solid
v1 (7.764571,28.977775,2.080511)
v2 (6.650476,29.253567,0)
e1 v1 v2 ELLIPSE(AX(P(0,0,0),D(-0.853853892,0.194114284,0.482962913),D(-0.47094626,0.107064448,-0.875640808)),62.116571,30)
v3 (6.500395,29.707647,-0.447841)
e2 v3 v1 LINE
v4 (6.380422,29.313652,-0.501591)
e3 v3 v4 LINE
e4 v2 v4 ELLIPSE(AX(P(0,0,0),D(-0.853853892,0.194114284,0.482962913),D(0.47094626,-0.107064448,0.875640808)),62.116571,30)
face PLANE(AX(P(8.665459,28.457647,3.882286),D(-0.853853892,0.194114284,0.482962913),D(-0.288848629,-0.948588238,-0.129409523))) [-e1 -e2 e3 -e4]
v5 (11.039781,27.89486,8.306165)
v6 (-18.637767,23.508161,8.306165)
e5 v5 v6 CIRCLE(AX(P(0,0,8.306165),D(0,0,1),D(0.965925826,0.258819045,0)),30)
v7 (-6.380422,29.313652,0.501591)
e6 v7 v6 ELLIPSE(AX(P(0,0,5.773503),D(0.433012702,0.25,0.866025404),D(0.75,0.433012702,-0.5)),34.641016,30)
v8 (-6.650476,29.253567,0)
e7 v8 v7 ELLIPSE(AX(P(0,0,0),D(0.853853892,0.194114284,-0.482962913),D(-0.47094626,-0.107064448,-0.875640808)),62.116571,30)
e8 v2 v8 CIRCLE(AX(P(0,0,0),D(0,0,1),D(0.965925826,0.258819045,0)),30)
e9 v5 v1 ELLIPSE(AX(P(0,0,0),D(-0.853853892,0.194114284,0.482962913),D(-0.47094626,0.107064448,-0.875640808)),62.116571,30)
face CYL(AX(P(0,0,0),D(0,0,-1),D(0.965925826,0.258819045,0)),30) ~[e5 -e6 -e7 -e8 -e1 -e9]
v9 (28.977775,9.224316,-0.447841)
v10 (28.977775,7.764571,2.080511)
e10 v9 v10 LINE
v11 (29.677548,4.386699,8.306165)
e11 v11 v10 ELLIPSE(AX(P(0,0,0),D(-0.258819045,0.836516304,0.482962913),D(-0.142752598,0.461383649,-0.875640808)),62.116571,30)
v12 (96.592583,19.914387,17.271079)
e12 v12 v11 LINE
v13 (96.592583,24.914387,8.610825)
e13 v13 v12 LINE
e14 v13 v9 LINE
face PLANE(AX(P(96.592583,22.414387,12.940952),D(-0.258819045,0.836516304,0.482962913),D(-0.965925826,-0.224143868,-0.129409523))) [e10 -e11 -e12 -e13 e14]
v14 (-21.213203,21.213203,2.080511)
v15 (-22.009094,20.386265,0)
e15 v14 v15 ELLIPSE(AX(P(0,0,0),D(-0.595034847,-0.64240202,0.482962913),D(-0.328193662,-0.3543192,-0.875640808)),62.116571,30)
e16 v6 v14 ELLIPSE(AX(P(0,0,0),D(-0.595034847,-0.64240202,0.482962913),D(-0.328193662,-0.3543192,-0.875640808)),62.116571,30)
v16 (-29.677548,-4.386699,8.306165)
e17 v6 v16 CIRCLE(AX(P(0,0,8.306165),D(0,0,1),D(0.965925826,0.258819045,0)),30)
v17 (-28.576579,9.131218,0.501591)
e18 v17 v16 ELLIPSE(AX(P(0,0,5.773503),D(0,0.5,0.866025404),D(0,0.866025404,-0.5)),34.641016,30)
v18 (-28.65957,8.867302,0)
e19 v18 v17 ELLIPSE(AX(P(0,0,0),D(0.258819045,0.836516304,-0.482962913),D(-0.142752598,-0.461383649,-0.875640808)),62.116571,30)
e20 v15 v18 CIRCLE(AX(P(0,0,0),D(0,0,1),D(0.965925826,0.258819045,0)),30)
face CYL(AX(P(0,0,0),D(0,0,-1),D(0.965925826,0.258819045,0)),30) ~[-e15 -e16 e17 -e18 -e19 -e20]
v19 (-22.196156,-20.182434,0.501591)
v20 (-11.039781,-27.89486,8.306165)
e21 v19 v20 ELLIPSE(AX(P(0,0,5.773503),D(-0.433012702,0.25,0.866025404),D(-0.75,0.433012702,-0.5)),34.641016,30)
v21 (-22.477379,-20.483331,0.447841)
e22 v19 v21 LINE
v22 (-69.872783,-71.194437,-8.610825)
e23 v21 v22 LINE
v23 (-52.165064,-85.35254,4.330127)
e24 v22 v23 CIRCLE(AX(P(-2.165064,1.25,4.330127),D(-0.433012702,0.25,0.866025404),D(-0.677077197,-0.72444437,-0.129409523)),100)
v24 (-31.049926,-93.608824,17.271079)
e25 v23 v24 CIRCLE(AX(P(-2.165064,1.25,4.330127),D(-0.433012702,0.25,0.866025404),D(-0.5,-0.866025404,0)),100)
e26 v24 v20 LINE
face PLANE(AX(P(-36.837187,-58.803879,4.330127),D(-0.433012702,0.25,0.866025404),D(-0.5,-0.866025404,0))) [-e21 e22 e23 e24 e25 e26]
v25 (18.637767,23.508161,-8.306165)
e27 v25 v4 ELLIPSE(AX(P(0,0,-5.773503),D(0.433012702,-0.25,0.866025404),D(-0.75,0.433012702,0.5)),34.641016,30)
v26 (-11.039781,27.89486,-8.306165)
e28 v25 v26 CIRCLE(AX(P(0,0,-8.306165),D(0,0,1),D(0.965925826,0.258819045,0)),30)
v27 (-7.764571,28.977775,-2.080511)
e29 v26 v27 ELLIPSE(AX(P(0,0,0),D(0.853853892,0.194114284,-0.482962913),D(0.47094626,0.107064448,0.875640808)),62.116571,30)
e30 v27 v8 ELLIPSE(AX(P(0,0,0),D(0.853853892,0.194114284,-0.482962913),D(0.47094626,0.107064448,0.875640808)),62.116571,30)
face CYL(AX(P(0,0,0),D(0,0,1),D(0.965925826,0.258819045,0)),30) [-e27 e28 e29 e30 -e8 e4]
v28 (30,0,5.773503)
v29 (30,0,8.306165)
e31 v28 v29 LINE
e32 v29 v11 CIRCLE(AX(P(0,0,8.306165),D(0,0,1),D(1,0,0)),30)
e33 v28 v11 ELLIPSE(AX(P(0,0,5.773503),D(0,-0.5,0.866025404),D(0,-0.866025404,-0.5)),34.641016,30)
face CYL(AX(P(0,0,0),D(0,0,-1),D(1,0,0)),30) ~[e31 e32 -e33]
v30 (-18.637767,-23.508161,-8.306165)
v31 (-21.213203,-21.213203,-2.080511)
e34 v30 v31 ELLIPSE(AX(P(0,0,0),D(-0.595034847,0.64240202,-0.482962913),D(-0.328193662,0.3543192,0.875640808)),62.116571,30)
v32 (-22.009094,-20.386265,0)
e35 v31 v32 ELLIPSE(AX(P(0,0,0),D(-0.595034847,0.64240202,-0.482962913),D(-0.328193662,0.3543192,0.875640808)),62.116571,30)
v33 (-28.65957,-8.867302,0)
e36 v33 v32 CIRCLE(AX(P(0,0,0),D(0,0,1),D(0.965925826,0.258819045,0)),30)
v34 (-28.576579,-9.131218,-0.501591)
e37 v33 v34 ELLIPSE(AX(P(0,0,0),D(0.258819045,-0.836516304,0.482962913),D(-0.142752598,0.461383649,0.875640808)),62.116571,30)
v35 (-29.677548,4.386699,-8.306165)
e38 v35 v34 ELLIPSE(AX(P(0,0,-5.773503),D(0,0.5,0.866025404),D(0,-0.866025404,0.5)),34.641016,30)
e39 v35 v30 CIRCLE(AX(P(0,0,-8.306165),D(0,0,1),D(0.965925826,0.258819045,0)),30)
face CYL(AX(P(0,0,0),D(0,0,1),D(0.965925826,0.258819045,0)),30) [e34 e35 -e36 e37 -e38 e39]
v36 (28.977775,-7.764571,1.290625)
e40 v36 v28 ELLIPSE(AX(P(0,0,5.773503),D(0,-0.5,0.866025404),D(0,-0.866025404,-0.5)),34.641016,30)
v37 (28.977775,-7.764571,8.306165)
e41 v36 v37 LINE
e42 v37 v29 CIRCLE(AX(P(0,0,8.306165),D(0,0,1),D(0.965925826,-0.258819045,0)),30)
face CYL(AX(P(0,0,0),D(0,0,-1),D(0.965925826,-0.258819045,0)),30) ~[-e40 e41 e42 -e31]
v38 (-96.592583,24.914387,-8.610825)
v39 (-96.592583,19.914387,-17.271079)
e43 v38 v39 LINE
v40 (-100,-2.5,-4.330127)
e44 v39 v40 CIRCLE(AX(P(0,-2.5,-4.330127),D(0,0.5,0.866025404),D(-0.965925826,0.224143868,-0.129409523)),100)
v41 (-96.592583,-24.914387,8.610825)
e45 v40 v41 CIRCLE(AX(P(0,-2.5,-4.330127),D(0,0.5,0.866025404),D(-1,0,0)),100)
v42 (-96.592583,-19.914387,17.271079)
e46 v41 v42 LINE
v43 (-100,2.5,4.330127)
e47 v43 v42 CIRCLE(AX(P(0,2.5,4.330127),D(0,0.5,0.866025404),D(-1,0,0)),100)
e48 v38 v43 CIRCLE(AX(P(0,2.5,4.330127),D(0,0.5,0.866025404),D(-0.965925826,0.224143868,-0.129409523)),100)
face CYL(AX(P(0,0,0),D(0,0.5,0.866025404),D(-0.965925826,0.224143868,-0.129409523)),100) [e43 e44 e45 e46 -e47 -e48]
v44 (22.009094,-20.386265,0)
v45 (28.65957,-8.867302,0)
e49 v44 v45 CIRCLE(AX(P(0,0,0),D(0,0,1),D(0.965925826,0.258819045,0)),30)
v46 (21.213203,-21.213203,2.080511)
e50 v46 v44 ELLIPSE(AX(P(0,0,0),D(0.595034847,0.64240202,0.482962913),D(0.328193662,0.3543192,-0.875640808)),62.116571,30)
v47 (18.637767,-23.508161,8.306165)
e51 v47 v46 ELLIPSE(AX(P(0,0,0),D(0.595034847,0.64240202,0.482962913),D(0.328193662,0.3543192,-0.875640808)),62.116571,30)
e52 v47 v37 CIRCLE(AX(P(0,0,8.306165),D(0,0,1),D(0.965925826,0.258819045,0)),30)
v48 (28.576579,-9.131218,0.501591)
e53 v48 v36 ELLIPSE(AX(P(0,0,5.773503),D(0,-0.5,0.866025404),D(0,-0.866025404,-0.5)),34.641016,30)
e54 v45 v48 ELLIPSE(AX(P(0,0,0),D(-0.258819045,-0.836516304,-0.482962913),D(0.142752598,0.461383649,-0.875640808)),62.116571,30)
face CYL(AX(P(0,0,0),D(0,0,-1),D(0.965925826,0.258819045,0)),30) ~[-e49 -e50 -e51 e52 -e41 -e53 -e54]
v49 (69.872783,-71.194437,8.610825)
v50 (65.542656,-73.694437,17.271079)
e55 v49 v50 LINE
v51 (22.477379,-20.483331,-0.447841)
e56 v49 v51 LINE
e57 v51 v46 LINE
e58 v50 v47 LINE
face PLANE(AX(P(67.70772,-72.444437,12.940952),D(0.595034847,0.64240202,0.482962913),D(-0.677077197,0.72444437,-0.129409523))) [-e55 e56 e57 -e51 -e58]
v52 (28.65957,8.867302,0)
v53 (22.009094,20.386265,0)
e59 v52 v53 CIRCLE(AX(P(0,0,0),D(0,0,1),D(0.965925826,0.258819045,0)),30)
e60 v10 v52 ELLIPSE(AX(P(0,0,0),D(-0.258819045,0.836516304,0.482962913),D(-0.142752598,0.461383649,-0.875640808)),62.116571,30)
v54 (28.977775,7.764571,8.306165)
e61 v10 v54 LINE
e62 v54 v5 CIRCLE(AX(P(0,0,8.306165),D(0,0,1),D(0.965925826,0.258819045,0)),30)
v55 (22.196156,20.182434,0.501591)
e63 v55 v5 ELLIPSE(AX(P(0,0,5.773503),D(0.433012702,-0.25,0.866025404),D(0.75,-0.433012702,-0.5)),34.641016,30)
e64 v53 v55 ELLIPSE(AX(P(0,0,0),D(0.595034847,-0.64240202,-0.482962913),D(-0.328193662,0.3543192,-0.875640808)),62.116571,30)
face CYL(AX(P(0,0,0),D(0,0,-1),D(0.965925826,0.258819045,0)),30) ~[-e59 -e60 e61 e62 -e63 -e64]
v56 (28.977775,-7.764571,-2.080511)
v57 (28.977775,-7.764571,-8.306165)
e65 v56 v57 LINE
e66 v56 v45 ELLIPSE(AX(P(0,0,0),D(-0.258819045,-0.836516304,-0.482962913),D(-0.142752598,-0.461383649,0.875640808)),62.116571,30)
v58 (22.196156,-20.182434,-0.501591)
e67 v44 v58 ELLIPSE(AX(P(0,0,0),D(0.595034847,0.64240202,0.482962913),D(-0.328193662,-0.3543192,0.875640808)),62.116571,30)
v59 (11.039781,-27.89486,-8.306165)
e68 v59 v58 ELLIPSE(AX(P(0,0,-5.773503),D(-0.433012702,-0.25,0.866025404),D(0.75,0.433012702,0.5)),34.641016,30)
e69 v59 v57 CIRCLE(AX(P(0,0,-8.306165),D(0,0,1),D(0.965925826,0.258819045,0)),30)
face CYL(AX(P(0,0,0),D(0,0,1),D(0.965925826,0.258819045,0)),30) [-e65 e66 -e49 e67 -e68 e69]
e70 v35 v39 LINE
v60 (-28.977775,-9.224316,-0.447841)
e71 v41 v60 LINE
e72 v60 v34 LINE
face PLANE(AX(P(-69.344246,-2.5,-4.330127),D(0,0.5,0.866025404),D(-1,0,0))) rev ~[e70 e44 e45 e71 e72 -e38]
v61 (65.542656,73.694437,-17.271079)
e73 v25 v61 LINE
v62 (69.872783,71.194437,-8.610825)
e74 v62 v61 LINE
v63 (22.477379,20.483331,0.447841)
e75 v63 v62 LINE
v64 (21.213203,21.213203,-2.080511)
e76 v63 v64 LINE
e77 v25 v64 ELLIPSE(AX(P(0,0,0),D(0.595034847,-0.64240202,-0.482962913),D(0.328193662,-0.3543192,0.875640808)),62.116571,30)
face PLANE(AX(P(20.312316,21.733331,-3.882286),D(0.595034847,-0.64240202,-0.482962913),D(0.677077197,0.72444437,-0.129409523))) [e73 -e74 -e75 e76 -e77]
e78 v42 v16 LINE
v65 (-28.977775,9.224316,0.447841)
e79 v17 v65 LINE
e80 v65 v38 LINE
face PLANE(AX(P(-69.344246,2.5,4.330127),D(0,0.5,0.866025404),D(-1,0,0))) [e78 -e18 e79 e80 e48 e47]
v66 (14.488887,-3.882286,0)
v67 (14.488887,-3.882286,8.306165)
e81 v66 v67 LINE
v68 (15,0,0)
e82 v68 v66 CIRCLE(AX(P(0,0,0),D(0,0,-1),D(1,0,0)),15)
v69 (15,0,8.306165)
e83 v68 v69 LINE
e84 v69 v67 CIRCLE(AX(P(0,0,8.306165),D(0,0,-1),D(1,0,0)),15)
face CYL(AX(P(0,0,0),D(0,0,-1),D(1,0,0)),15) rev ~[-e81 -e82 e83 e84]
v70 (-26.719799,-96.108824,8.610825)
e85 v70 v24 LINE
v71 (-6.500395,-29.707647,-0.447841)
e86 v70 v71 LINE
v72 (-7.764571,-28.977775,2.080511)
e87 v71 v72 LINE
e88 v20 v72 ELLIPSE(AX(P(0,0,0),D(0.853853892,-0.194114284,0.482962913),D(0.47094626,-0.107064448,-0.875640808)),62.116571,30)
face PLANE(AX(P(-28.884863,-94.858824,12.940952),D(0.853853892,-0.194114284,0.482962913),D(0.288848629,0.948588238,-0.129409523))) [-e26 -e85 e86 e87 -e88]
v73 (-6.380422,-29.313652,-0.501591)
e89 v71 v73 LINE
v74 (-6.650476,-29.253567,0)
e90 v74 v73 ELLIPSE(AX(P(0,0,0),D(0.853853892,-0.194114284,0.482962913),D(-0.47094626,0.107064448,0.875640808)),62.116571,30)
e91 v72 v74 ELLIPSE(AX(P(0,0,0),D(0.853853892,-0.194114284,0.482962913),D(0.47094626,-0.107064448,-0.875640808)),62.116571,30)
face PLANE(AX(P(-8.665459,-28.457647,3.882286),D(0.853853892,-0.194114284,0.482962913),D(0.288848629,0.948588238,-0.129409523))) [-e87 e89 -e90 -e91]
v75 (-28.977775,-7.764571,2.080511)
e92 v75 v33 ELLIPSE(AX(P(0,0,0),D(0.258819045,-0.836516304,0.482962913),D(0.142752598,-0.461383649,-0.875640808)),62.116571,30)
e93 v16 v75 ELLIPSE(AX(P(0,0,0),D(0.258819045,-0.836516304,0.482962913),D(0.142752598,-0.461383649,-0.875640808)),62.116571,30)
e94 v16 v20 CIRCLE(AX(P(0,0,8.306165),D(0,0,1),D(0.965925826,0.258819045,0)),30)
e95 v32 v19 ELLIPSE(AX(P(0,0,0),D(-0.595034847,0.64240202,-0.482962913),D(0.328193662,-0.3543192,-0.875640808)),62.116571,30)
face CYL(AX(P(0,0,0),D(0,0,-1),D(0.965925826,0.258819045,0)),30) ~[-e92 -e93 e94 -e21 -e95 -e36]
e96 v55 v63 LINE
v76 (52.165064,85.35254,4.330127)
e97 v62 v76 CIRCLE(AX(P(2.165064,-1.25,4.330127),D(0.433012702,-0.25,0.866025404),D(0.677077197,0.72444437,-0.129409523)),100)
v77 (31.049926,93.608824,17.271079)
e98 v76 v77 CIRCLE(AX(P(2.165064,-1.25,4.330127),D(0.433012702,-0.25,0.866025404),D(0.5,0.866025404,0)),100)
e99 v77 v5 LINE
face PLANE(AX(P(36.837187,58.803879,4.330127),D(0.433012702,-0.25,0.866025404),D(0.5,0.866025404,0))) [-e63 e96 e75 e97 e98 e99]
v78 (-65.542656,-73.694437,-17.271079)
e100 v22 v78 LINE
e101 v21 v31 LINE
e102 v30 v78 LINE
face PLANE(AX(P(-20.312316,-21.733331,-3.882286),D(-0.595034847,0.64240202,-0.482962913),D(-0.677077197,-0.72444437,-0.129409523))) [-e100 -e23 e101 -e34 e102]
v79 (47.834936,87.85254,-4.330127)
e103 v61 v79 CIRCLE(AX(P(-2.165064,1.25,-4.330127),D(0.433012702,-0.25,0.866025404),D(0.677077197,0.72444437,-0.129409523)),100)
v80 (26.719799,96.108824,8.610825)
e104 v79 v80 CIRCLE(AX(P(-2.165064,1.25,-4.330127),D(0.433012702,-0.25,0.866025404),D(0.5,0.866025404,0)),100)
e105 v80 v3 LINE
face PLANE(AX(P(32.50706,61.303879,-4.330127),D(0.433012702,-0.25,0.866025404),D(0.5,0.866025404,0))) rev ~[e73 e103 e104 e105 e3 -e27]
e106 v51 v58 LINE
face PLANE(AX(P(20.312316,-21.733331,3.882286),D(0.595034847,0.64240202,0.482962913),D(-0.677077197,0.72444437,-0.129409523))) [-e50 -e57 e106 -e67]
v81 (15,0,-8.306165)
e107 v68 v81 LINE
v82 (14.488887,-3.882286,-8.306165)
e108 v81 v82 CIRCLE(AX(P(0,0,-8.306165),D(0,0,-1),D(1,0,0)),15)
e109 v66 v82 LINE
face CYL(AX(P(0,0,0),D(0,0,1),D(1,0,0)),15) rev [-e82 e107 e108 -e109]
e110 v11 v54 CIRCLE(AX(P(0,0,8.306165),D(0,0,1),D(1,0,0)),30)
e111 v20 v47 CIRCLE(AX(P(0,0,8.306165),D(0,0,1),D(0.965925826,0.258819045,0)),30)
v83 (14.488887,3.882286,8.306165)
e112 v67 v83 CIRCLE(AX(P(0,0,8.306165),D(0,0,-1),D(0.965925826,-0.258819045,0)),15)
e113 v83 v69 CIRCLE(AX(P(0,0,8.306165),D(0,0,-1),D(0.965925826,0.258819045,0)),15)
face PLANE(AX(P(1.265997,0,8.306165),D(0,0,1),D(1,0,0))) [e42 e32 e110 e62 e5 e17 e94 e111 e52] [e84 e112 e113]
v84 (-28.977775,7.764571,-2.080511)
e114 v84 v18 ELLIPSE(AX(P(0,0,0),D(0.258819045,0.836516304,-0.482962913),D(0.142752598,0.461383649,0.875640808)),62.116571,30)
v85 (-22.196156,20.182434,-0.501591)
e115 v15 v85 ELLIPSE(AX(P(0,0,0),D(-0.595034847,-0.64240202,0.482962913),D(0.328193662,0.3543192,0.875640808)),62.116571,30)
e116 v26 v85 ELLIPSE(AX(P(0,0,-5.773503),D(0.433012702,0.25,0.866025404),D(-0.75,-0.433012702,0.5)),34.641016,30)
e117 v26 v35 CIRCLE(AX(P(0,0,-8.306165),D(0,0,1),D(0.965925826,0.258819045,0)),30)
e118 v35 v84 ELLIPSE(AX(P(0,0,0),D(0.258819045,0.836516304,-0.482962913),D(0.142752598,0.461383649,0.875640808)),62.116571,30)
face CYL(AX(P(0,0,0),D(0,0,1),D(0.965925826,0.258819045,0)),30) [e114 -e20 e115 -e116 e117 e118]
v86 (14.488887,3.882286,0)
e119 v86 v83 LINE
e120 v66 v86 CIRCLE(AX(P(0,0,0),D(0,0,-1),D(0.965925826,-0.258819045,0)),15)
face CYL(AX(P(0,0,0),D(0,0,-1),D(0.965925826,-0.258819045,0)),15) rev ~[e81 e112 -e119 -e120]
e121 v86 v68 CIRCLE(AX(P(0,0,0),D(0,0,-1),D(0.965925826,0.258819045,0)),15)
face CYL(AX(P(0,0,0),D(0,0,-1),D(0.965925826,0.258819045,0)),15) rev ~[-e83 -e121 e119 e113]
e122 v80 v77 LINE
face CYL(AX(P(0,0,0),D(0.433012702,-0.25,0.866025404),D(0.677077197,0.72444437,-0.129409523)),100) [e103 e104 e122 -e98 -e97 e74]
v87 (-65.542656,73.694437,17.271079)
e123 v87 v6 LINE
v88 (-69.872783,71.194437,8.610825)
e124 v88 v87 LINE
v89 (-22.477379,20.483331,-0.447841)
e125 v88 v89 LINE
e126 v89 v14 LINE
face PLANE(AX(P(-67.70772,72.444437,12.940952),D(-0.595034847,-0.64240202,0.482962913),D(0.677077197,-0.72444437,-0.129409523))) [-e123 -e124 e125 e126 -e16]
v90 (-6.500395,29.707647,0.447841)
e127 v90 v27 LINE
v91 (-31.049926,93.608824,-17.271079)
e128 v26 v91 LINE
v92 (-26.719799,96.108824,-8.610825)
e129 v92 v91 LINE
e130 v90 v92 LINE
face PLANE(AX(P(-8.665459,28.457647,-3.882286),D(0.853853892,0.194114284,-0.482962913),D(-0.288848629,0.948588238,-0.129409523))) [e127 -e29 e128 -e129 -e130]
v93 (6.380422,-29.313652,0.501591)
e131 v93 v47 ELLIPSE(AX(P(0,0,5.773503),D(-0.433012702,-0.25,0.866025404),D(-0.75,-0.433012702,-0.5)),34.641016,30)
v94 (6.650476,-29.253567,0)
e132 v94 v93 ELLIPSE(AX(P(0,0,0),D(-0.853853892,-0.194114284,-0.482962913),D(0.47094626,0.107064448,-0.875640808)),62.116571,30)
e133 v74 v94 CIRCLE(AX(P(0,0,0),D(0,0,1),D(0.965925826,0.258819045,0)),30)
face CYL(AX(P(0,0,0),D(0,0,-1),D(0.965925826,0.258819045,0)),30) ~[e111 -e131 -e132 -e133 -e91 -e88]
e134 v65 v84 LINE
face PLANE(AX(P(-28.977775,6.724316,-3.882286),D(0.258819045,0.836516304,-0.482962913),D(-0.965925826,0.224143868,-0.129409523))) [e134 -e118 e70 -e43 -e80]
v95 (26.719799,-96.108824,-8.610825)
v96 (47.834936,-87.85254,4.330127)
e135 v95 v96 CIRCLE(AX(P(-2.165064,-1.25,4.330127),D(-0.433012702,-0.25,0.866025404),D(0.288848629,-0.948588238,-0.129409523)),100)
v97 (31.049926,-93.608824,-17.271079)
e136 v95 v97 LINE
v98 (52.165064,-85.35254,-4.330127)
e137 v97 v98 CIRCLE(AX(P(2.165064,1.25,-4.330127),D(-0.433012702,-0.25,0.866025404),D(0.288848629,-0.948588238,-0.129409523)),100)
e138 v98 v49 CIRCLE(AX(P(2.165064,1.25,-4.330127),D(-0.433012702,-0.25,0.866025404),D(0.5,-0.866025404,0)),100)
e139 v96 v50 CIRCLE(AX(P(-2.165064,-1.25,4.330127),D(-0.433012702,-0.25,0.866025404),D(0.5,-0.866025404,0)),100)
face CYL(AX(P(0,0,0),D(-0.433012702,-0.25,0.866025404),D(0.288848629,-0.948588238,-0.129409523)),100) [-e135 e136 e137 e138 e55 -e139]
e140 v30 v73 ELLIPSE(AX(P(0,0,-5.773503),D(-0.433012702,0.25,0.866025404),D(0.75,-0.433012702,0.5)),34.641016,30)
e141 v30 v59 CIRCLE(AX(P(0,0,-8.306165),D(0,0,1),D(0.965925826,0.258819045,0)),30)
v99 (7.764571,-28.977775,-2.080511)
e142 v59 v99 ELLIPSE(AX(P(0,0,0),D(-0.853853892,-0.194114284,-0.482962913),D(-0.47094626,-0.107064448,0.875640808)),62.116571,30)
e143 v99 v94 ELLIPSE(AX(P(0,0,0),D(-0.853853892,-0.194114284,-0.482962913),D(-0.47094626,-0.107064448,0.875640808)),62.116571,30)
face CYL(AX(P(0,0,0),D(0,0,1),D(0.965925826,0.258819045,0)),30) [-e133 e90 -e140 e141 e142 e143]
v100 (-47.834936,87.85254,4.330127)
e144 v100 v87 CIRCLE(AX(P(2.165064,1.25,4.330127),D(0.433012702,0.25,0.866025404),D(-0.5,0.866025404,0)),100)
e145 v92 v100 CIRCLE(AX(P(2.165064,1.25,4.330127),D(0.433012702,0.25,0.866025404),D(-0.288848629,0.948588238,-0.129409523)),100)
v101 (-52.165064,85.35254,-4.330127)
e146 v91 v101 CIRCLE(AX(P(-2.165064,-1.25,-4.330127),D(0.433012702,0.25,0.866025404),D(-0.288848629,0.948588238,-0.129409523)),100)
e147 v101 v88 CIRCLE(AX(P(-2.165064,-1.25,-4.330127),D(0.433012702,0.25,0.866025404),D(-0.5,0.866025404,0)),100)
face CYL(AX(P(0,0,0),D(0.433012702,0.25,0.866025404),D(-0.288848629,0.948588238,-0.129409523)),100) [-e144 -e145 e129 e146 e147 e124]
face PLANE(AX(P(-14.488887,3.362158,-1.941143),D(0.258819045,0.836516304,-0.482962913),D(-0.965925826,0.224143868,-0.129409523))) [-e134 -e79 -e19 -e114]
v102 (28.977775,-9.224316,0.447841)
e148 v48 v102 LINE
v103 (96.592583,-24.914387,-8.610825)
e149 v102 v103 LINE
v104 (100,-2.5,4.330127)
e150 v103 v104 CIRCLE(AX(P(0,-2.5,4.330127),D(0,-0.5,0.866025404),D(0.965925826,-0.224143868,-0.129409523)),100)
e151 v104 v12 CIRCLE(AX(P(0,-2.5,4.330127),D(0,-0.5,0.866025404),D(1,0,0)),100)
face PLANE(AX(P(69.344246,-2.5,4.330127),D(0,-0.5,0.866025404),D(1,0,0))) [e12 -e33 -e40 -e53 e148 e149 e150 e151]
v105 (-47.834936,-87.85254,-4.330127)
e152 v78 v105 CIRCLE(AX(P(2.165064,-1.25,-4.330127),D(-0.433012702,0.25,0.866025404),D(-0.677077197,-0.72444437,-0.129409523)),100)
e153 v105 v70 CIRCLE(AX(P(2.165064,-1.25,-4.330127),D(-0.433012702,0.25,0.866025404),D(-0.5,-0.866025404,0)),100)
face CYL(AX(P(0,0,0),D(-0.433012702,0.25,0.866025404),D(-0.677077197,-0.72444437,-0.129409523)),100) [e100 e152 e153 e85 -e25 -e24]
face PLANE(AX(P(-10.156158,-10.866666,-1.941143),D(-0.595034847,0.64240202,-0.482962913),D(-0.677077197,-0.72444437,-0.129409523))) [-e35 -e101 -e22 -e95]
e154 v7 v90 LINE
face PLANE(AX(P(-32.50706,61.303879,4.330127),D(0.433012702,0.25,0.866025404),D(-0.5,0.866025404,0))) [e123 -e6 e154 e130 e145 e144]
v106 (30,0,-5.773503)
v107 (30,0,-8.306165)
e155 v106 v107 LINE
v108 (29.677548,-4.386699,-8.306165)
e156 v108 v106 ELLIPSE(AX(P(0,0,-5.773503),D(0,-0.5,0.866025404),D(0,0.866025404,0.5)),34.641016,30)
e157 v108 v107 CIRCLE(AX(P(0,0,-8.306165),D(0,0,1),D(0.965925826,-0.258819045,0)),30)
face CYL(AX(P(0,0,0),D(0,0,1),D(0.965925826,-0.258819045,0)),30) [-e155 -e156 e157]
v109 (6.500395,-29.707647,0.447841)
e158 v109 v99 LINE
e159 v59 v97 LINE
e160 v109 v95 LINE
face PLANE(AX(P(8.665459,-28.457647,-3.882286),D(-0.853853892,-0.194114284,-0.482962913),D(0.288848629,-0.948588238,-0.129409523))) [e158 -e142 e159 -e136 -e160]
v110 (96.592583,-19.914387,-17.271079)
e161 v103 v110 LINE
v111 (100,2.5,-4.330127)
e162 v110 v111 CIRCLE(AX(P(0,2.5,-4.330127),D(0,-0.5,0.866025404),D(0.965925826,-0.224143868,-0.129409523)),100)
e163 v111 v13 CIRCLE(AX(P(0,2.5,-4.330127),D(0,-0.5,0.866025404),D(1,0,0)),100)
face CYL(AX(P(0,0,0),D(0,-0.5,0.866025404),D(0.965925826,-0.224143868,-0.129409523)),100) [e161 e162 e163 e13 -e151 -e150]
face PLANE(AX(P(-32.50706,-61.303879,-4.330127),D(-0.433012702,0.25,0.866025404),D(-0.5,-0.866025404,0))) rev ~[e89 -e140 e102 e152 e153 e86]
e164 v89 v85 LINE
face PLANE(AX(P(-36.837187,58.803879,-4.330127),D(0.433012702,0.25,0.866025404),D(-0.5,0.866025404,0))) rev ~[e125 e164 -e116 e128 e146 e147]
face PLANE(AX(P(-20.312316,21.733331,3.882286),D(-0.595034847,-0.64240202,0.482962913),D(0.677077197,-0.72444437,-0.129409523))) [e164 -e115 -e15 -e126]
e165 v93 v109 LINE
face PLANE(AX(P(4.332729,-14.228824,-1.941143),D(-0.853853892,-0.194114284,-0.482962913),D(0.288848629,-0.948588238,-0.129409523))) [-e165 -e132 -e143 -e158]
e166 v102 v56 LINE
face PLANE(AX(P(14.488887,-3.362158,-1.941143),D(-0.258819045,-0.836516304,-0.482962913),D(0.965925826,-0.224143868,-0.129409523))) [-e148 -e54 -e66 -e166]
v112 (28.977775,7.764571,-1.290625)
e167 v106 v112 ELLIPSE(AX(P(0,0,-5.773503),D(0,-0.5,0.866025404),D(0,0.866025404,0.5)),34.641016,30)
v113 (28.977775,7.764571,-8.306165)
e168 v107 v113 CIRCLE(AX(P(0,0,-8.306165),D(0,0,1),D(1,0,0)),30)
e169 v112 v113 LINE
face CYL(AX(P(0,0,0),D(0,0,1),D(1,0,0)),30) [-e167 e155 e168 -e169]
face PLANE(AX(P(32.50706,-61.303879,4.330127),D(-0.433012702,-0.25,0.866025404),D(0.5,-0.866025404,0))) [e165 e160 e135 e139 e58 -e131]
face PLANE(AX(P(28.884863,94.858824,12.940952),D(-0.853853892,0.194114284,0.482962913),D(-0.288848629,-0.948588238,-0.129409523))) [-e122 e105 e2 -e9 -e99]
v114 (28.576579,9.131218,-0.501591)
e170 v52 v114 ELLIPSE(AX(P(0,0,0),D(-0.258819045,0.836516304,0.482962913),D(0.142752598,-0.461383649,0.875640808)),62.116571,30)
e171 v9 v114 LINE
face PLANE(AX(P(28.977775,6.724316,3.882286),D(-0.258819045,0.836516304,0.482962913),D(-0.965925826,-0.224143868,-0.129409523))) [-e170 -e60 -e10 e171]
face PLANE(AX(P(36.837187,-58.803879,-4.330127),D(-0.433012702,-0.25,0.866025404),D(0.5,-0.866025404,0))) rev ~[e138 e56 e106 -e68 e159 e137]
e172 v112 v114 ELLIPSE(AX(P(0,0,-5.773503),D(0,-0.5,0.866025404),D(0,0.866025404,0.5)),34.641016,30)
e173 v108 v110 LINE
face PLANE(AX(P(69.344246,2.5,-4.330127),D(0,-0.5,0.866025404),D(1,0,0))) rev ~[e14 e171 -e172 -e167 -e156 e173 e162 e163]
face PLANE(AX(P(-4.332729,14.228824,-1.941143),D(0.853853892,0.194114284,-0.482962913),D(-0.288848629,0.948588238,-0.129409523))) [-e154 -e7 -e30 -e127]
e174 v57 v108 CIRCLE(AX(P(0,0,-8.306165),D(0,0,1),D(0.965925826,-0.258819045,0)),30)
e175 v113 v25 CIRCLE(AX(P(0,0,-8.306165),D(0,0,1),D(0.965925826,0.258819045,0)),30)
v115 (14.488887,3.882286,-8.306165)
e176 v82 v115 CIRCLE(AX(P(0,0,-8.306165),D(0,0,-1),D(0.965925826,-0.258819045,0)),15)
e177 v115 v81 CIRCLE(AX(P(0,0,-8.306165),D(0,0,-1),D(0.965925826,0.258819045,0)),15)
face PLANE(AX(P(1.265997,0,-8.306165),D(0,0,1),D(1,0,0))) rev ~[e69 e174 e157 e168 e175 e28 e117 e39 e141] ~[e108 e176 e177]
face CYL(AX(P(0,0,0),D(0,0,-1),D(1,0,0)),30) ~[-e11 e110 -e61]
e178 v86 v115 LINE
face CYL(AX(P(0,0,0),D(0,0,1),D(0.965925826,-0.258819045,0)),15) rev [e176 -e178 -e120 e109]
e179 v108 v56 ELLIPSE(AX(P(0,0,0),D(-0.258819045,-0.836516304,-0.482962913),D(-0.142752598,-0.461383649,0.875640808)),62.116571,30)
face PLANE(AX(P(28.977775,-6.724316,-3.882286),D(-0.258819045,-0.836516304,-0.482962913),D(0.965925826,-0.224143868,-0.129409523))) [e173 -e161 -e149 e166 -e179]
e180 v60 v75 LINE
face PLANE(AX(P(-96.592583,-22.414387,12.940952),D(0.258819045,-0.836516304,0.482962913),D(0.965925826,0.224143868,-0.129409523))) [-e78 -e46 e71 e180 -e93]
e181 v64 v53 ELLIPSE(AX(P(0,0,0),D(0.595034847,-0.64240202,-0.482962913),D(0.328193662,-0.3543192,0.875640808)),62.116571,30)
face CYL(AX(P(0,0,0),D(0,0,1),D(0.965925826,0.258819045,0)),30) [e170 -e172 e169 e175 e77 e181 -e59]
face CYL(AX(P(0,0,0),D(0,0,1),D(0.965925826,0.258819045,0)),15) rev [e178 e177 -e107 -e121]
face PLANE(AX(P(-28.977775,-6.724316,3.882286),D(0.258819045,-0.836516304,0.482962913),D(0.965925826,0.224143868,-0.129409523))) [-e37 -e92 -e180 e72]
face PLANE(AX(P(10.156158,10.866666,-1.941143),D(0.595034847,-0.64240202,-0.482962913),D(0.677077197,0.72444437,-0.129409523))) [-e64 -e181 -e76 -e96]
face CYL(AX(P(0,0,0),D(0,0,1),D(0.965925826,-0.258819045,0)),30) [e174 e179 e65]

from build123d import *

# Parameters (mm, degrees)
F1_DEPTH      = 5
F2_ANGLE      = 30
F4_COUNT      = 6
F5_DEPTH      = 12.5
F6_DEPTH      = 8.3061645655
F6_DEPTH_BACK = 8.3061645655


with BuildPart() as f1:
    # F0 (on Top) → F1 (new body, symmetric)
    with BuildSketch(Plane.XY):
        with BuildLine():
            ThreePointArc((96.5925826289, -25.8819045103), (99.1444861374, -13.052619222), (100, 0))
            ThreePointArc((100, 0), (99.1444861374, 13.052619222), (96.5925826289, 25.8819045103))
            Line((96.5925826289, 25.8819045103), (28.9777747887, 7.7645713531))
            ThreePointArc((28.9777747887, 7.7645713531), (29.7433458412, 3.9157857666), (30, 0))
            ThreePointArc((30, 0), (29.7433458412, -3.9157857666), (28.9777747887, -7.7645713531))
            Line((28.9777747887, -7.7645713531), (96.5925826289, -25.8819045103))
        make_face()
        with BuildLine():
            ThreePointArc((30, 0), (29.7433458412, 3.9157857666), (28.9777747887, 7.7645713531))
            Line((28.9777747887, 7.7645713531), (14.4888873943, 3.8822856765))
            ThreePointArc((14.4888873943, 3.8822856765), (14.8716729206, 1.9578928833), (15, 0))
            ThreePointArc((15, 0), (14.8716729206, -1.9578928833), (14.4888873943, -3.8822856765))
            Line((14.4888873943, -3.8822856765), (28.9777747887, -7.7645713531))
            ThreePointArc((28.9777747887, -7.7645713531), (29.7433458412, -3.9157857666), (30, 0))
        make_face()
    extrude(amount=F1_DEPTH, both=True)


with BuildPart() as f1_1:
    # F2: moved
    add(f1.part.rotate(Axis((7.5, 0, 0), (1, 0, 0)), F2_ANGLE))


with BuildPart() as f4_1:
    # F4: instance of F1
    add(f1_1.part.rotate(Axis((0, 0, 17.2675196081), (0, 0, 1)), 1 * 360 / F4_COUNT))


with BuildPart() as f4_2:
    # F4: instance of F1
    add(f1_1.part.rotate(Axis((0, 0, 17.2675196081), (0, 0, 1)), 2 * 360 / F4_COUNT))


with BuildPart() as f4_3:
    # F4: instance of F1
    add(f1_1.part.rotate(Axis((0, 0, 17.2675196081), (0, 0, 1)), 3 * 360 / F4_COUNT))


with BuildPart() as f4_4:
    # F4: instance of F1
    add(f1_1.part.rotate(Axis((0, 0, 17.2675196081), (0, 0, 1)), 4 * 360 / F4_COUNT))


with BuildPart() as f4_5:
    # F4: instance of F1
    add(f1_1.part.rotate(Axis((0, 0, 17.2675196081), (0, 0, 1)), 5 * 360 / F4_COUNT))


with BuildPart() as f5_tool:
    # F0 (on Top) → F5 (new body, symmetric)
    with BuildSketch(Plane.XY):
        with BuildLine():
            Line((14.4888873943, 3.8822856765), (28.9777747887, 7.7645713531))
            ThreePointArc((28.9777747887, 7.7645713531), (-30, 0), (28.9777747887, -7.7645713531))
            Line((28.9777747887, -7.7645713531), (14.4888873943, -3.8822856765))
            ThreePointArc((14.4888873943, -3.8822856765), (-15, 0), (14.4888873943, 3.8822856765))
        make_face()
        with BuildLine():
            Line((0, 0), (14.4888873943, 3.8822856765))
            ThreePointArc((14.4888873943, 3.8822856765), (-15, 0), (14.4888873943, -3.8822856765))
            Line((14.4888873943, -3.8822856765), (0, 0))
        make_face()
        with BuildLine():
            ThreePointArc((15, 0), (14.8716729206, 1.9578928833), (14.4888873943, 3.8822856765))
            Line((14.4888873943, 3.8822856765), (0, 0))
            Line((0, 0), (15, 0))
        make_face()
        with BuildLine():
            Line((0, 0), (14.4888873943, -3.8822856765))
            ThreePointArc((14.4888873943, -3.8822856765), (14.8716729206, -1.9578928833), (15, 0))
            Line((15, 0), (0, 0))
        make_face()
        with BuildLine():
            ThreePointArc((30, 0), (29.7433458412, 3.9157857666), (28.9777747887, 7.7645713531))
            Line((28.9777747887, 7.7645713531), (14.4888873943, 3.8822856765))
            ThreePointArc((14.4888873943, 3.8822856765), (14.8716729206, 1.9578928833), (15, 0))
            ThreePointArc((15, 0), (14.8716729206, -1.9578928833), (14.4888873943, -3.8822856765))
            Line((14.4888873943, -3.8822856765), (28.9777747887, -7.7645713531))
            ThreePointArc((28.9777747887, -7.7645713531), (29.7433458412, -3.9157857666), (30, 0))
        make_face()
    extrude(amount=F5_DEPTH, both=True)


with BuildPart() as f1_2:
    add(f1_1.part)

    # F5: cut by f5_tool
    add(f5_tool.part, mode=Mode.SUBTRACT)



with BuildPart() as f4_1_1:
    add(f4_1.part)

    # F5: cut by f5_tool
    add(f5_tool.part, mode=Mode.SUBTRACT)


with BuildPart() as f4_2_1:
    add(f4_2.part)

    # F5: cut by f5_tool
    add(f5_tool.part, mode=Mode.SUBTRACT)


with BuildPart() as f4_3_1:
    add(f4_3.part)

    # F5: cut by f5_tool
    add(f5_tool.part, mode=Mode.SUBTRACT)


with BuildPart() as f4_4_1:
    add(f4_4.part)

    # F5: cut by f5_tool
    add(f5_tool.part, mode=Mode.SUBTRACT)


with BuildPart() as f4_5_1:
    add(f4_5.part)

    # F5: cut by f5_tool
    add(f5_tool.part, mode=Mode.SUBTRACT)


with BuildPart() as f1_3:
    add(f1_2.part)

    add(f4_1_1.part)  # F6 merges F4_1

    add(f4_2_1.part)  # F6 merges F4_2

    add(f4_3_1.part)  # F6 merges F4_3

    add(f4_4_1.part)  # F6 merges F4_4

    add(f4_5_1.part)  # F6 merges F4_5
    # F0 (on Top) → F6 (join, two sides)
    with BuildSketch(Plane.XY) as f6_sk:
        with BuildLine():
            Line((14.4888873943, 3.8822856765), (28.9777747887, 7.7645713531))
            ThreePointArc((28.9777747887, 7.7645713531), (-30, 0), (28.9777747887, -7.7645713531))
            Line((28.9777747887, -7.7645713531), (14.4888873943, -3.8822856765))
            ThreePointArc((14.4888873943, -3.8822856765), (-15, 0), (14.4888873943, 3.8822856765))
        make_face()
        with BuildLine():
            ThreePointArc((30, 0), (29.7433458412, 3.9157857666), (28.9777747887, 7.7645713531))
            Line((28.9777747887, 7.7645713531), (14.4888873943, 3.8822856765))
            ThreePointArc((14.4888873943, 3.8822856765), (14.8716729206, 1.9578928833), (15, 0))
            ThreePointArc((15, 0), (14.8716729206, -1.9578928833), (14.4888873943, -3.8822856765))
            Line((14.4888873943, -3.8822856765), (28.9777747887, -7.7645713531))
            ThreePointArc((28.9777747887, -7.7645713531), (29.7433458412, -3.9157857666), (30, 0))
        make_face()
    extrude(amount=-F6_DEPTH)
    extrude(f6_sk.sketch, amount=F6_DEPTH_BACK)


solid = f1_3.part
